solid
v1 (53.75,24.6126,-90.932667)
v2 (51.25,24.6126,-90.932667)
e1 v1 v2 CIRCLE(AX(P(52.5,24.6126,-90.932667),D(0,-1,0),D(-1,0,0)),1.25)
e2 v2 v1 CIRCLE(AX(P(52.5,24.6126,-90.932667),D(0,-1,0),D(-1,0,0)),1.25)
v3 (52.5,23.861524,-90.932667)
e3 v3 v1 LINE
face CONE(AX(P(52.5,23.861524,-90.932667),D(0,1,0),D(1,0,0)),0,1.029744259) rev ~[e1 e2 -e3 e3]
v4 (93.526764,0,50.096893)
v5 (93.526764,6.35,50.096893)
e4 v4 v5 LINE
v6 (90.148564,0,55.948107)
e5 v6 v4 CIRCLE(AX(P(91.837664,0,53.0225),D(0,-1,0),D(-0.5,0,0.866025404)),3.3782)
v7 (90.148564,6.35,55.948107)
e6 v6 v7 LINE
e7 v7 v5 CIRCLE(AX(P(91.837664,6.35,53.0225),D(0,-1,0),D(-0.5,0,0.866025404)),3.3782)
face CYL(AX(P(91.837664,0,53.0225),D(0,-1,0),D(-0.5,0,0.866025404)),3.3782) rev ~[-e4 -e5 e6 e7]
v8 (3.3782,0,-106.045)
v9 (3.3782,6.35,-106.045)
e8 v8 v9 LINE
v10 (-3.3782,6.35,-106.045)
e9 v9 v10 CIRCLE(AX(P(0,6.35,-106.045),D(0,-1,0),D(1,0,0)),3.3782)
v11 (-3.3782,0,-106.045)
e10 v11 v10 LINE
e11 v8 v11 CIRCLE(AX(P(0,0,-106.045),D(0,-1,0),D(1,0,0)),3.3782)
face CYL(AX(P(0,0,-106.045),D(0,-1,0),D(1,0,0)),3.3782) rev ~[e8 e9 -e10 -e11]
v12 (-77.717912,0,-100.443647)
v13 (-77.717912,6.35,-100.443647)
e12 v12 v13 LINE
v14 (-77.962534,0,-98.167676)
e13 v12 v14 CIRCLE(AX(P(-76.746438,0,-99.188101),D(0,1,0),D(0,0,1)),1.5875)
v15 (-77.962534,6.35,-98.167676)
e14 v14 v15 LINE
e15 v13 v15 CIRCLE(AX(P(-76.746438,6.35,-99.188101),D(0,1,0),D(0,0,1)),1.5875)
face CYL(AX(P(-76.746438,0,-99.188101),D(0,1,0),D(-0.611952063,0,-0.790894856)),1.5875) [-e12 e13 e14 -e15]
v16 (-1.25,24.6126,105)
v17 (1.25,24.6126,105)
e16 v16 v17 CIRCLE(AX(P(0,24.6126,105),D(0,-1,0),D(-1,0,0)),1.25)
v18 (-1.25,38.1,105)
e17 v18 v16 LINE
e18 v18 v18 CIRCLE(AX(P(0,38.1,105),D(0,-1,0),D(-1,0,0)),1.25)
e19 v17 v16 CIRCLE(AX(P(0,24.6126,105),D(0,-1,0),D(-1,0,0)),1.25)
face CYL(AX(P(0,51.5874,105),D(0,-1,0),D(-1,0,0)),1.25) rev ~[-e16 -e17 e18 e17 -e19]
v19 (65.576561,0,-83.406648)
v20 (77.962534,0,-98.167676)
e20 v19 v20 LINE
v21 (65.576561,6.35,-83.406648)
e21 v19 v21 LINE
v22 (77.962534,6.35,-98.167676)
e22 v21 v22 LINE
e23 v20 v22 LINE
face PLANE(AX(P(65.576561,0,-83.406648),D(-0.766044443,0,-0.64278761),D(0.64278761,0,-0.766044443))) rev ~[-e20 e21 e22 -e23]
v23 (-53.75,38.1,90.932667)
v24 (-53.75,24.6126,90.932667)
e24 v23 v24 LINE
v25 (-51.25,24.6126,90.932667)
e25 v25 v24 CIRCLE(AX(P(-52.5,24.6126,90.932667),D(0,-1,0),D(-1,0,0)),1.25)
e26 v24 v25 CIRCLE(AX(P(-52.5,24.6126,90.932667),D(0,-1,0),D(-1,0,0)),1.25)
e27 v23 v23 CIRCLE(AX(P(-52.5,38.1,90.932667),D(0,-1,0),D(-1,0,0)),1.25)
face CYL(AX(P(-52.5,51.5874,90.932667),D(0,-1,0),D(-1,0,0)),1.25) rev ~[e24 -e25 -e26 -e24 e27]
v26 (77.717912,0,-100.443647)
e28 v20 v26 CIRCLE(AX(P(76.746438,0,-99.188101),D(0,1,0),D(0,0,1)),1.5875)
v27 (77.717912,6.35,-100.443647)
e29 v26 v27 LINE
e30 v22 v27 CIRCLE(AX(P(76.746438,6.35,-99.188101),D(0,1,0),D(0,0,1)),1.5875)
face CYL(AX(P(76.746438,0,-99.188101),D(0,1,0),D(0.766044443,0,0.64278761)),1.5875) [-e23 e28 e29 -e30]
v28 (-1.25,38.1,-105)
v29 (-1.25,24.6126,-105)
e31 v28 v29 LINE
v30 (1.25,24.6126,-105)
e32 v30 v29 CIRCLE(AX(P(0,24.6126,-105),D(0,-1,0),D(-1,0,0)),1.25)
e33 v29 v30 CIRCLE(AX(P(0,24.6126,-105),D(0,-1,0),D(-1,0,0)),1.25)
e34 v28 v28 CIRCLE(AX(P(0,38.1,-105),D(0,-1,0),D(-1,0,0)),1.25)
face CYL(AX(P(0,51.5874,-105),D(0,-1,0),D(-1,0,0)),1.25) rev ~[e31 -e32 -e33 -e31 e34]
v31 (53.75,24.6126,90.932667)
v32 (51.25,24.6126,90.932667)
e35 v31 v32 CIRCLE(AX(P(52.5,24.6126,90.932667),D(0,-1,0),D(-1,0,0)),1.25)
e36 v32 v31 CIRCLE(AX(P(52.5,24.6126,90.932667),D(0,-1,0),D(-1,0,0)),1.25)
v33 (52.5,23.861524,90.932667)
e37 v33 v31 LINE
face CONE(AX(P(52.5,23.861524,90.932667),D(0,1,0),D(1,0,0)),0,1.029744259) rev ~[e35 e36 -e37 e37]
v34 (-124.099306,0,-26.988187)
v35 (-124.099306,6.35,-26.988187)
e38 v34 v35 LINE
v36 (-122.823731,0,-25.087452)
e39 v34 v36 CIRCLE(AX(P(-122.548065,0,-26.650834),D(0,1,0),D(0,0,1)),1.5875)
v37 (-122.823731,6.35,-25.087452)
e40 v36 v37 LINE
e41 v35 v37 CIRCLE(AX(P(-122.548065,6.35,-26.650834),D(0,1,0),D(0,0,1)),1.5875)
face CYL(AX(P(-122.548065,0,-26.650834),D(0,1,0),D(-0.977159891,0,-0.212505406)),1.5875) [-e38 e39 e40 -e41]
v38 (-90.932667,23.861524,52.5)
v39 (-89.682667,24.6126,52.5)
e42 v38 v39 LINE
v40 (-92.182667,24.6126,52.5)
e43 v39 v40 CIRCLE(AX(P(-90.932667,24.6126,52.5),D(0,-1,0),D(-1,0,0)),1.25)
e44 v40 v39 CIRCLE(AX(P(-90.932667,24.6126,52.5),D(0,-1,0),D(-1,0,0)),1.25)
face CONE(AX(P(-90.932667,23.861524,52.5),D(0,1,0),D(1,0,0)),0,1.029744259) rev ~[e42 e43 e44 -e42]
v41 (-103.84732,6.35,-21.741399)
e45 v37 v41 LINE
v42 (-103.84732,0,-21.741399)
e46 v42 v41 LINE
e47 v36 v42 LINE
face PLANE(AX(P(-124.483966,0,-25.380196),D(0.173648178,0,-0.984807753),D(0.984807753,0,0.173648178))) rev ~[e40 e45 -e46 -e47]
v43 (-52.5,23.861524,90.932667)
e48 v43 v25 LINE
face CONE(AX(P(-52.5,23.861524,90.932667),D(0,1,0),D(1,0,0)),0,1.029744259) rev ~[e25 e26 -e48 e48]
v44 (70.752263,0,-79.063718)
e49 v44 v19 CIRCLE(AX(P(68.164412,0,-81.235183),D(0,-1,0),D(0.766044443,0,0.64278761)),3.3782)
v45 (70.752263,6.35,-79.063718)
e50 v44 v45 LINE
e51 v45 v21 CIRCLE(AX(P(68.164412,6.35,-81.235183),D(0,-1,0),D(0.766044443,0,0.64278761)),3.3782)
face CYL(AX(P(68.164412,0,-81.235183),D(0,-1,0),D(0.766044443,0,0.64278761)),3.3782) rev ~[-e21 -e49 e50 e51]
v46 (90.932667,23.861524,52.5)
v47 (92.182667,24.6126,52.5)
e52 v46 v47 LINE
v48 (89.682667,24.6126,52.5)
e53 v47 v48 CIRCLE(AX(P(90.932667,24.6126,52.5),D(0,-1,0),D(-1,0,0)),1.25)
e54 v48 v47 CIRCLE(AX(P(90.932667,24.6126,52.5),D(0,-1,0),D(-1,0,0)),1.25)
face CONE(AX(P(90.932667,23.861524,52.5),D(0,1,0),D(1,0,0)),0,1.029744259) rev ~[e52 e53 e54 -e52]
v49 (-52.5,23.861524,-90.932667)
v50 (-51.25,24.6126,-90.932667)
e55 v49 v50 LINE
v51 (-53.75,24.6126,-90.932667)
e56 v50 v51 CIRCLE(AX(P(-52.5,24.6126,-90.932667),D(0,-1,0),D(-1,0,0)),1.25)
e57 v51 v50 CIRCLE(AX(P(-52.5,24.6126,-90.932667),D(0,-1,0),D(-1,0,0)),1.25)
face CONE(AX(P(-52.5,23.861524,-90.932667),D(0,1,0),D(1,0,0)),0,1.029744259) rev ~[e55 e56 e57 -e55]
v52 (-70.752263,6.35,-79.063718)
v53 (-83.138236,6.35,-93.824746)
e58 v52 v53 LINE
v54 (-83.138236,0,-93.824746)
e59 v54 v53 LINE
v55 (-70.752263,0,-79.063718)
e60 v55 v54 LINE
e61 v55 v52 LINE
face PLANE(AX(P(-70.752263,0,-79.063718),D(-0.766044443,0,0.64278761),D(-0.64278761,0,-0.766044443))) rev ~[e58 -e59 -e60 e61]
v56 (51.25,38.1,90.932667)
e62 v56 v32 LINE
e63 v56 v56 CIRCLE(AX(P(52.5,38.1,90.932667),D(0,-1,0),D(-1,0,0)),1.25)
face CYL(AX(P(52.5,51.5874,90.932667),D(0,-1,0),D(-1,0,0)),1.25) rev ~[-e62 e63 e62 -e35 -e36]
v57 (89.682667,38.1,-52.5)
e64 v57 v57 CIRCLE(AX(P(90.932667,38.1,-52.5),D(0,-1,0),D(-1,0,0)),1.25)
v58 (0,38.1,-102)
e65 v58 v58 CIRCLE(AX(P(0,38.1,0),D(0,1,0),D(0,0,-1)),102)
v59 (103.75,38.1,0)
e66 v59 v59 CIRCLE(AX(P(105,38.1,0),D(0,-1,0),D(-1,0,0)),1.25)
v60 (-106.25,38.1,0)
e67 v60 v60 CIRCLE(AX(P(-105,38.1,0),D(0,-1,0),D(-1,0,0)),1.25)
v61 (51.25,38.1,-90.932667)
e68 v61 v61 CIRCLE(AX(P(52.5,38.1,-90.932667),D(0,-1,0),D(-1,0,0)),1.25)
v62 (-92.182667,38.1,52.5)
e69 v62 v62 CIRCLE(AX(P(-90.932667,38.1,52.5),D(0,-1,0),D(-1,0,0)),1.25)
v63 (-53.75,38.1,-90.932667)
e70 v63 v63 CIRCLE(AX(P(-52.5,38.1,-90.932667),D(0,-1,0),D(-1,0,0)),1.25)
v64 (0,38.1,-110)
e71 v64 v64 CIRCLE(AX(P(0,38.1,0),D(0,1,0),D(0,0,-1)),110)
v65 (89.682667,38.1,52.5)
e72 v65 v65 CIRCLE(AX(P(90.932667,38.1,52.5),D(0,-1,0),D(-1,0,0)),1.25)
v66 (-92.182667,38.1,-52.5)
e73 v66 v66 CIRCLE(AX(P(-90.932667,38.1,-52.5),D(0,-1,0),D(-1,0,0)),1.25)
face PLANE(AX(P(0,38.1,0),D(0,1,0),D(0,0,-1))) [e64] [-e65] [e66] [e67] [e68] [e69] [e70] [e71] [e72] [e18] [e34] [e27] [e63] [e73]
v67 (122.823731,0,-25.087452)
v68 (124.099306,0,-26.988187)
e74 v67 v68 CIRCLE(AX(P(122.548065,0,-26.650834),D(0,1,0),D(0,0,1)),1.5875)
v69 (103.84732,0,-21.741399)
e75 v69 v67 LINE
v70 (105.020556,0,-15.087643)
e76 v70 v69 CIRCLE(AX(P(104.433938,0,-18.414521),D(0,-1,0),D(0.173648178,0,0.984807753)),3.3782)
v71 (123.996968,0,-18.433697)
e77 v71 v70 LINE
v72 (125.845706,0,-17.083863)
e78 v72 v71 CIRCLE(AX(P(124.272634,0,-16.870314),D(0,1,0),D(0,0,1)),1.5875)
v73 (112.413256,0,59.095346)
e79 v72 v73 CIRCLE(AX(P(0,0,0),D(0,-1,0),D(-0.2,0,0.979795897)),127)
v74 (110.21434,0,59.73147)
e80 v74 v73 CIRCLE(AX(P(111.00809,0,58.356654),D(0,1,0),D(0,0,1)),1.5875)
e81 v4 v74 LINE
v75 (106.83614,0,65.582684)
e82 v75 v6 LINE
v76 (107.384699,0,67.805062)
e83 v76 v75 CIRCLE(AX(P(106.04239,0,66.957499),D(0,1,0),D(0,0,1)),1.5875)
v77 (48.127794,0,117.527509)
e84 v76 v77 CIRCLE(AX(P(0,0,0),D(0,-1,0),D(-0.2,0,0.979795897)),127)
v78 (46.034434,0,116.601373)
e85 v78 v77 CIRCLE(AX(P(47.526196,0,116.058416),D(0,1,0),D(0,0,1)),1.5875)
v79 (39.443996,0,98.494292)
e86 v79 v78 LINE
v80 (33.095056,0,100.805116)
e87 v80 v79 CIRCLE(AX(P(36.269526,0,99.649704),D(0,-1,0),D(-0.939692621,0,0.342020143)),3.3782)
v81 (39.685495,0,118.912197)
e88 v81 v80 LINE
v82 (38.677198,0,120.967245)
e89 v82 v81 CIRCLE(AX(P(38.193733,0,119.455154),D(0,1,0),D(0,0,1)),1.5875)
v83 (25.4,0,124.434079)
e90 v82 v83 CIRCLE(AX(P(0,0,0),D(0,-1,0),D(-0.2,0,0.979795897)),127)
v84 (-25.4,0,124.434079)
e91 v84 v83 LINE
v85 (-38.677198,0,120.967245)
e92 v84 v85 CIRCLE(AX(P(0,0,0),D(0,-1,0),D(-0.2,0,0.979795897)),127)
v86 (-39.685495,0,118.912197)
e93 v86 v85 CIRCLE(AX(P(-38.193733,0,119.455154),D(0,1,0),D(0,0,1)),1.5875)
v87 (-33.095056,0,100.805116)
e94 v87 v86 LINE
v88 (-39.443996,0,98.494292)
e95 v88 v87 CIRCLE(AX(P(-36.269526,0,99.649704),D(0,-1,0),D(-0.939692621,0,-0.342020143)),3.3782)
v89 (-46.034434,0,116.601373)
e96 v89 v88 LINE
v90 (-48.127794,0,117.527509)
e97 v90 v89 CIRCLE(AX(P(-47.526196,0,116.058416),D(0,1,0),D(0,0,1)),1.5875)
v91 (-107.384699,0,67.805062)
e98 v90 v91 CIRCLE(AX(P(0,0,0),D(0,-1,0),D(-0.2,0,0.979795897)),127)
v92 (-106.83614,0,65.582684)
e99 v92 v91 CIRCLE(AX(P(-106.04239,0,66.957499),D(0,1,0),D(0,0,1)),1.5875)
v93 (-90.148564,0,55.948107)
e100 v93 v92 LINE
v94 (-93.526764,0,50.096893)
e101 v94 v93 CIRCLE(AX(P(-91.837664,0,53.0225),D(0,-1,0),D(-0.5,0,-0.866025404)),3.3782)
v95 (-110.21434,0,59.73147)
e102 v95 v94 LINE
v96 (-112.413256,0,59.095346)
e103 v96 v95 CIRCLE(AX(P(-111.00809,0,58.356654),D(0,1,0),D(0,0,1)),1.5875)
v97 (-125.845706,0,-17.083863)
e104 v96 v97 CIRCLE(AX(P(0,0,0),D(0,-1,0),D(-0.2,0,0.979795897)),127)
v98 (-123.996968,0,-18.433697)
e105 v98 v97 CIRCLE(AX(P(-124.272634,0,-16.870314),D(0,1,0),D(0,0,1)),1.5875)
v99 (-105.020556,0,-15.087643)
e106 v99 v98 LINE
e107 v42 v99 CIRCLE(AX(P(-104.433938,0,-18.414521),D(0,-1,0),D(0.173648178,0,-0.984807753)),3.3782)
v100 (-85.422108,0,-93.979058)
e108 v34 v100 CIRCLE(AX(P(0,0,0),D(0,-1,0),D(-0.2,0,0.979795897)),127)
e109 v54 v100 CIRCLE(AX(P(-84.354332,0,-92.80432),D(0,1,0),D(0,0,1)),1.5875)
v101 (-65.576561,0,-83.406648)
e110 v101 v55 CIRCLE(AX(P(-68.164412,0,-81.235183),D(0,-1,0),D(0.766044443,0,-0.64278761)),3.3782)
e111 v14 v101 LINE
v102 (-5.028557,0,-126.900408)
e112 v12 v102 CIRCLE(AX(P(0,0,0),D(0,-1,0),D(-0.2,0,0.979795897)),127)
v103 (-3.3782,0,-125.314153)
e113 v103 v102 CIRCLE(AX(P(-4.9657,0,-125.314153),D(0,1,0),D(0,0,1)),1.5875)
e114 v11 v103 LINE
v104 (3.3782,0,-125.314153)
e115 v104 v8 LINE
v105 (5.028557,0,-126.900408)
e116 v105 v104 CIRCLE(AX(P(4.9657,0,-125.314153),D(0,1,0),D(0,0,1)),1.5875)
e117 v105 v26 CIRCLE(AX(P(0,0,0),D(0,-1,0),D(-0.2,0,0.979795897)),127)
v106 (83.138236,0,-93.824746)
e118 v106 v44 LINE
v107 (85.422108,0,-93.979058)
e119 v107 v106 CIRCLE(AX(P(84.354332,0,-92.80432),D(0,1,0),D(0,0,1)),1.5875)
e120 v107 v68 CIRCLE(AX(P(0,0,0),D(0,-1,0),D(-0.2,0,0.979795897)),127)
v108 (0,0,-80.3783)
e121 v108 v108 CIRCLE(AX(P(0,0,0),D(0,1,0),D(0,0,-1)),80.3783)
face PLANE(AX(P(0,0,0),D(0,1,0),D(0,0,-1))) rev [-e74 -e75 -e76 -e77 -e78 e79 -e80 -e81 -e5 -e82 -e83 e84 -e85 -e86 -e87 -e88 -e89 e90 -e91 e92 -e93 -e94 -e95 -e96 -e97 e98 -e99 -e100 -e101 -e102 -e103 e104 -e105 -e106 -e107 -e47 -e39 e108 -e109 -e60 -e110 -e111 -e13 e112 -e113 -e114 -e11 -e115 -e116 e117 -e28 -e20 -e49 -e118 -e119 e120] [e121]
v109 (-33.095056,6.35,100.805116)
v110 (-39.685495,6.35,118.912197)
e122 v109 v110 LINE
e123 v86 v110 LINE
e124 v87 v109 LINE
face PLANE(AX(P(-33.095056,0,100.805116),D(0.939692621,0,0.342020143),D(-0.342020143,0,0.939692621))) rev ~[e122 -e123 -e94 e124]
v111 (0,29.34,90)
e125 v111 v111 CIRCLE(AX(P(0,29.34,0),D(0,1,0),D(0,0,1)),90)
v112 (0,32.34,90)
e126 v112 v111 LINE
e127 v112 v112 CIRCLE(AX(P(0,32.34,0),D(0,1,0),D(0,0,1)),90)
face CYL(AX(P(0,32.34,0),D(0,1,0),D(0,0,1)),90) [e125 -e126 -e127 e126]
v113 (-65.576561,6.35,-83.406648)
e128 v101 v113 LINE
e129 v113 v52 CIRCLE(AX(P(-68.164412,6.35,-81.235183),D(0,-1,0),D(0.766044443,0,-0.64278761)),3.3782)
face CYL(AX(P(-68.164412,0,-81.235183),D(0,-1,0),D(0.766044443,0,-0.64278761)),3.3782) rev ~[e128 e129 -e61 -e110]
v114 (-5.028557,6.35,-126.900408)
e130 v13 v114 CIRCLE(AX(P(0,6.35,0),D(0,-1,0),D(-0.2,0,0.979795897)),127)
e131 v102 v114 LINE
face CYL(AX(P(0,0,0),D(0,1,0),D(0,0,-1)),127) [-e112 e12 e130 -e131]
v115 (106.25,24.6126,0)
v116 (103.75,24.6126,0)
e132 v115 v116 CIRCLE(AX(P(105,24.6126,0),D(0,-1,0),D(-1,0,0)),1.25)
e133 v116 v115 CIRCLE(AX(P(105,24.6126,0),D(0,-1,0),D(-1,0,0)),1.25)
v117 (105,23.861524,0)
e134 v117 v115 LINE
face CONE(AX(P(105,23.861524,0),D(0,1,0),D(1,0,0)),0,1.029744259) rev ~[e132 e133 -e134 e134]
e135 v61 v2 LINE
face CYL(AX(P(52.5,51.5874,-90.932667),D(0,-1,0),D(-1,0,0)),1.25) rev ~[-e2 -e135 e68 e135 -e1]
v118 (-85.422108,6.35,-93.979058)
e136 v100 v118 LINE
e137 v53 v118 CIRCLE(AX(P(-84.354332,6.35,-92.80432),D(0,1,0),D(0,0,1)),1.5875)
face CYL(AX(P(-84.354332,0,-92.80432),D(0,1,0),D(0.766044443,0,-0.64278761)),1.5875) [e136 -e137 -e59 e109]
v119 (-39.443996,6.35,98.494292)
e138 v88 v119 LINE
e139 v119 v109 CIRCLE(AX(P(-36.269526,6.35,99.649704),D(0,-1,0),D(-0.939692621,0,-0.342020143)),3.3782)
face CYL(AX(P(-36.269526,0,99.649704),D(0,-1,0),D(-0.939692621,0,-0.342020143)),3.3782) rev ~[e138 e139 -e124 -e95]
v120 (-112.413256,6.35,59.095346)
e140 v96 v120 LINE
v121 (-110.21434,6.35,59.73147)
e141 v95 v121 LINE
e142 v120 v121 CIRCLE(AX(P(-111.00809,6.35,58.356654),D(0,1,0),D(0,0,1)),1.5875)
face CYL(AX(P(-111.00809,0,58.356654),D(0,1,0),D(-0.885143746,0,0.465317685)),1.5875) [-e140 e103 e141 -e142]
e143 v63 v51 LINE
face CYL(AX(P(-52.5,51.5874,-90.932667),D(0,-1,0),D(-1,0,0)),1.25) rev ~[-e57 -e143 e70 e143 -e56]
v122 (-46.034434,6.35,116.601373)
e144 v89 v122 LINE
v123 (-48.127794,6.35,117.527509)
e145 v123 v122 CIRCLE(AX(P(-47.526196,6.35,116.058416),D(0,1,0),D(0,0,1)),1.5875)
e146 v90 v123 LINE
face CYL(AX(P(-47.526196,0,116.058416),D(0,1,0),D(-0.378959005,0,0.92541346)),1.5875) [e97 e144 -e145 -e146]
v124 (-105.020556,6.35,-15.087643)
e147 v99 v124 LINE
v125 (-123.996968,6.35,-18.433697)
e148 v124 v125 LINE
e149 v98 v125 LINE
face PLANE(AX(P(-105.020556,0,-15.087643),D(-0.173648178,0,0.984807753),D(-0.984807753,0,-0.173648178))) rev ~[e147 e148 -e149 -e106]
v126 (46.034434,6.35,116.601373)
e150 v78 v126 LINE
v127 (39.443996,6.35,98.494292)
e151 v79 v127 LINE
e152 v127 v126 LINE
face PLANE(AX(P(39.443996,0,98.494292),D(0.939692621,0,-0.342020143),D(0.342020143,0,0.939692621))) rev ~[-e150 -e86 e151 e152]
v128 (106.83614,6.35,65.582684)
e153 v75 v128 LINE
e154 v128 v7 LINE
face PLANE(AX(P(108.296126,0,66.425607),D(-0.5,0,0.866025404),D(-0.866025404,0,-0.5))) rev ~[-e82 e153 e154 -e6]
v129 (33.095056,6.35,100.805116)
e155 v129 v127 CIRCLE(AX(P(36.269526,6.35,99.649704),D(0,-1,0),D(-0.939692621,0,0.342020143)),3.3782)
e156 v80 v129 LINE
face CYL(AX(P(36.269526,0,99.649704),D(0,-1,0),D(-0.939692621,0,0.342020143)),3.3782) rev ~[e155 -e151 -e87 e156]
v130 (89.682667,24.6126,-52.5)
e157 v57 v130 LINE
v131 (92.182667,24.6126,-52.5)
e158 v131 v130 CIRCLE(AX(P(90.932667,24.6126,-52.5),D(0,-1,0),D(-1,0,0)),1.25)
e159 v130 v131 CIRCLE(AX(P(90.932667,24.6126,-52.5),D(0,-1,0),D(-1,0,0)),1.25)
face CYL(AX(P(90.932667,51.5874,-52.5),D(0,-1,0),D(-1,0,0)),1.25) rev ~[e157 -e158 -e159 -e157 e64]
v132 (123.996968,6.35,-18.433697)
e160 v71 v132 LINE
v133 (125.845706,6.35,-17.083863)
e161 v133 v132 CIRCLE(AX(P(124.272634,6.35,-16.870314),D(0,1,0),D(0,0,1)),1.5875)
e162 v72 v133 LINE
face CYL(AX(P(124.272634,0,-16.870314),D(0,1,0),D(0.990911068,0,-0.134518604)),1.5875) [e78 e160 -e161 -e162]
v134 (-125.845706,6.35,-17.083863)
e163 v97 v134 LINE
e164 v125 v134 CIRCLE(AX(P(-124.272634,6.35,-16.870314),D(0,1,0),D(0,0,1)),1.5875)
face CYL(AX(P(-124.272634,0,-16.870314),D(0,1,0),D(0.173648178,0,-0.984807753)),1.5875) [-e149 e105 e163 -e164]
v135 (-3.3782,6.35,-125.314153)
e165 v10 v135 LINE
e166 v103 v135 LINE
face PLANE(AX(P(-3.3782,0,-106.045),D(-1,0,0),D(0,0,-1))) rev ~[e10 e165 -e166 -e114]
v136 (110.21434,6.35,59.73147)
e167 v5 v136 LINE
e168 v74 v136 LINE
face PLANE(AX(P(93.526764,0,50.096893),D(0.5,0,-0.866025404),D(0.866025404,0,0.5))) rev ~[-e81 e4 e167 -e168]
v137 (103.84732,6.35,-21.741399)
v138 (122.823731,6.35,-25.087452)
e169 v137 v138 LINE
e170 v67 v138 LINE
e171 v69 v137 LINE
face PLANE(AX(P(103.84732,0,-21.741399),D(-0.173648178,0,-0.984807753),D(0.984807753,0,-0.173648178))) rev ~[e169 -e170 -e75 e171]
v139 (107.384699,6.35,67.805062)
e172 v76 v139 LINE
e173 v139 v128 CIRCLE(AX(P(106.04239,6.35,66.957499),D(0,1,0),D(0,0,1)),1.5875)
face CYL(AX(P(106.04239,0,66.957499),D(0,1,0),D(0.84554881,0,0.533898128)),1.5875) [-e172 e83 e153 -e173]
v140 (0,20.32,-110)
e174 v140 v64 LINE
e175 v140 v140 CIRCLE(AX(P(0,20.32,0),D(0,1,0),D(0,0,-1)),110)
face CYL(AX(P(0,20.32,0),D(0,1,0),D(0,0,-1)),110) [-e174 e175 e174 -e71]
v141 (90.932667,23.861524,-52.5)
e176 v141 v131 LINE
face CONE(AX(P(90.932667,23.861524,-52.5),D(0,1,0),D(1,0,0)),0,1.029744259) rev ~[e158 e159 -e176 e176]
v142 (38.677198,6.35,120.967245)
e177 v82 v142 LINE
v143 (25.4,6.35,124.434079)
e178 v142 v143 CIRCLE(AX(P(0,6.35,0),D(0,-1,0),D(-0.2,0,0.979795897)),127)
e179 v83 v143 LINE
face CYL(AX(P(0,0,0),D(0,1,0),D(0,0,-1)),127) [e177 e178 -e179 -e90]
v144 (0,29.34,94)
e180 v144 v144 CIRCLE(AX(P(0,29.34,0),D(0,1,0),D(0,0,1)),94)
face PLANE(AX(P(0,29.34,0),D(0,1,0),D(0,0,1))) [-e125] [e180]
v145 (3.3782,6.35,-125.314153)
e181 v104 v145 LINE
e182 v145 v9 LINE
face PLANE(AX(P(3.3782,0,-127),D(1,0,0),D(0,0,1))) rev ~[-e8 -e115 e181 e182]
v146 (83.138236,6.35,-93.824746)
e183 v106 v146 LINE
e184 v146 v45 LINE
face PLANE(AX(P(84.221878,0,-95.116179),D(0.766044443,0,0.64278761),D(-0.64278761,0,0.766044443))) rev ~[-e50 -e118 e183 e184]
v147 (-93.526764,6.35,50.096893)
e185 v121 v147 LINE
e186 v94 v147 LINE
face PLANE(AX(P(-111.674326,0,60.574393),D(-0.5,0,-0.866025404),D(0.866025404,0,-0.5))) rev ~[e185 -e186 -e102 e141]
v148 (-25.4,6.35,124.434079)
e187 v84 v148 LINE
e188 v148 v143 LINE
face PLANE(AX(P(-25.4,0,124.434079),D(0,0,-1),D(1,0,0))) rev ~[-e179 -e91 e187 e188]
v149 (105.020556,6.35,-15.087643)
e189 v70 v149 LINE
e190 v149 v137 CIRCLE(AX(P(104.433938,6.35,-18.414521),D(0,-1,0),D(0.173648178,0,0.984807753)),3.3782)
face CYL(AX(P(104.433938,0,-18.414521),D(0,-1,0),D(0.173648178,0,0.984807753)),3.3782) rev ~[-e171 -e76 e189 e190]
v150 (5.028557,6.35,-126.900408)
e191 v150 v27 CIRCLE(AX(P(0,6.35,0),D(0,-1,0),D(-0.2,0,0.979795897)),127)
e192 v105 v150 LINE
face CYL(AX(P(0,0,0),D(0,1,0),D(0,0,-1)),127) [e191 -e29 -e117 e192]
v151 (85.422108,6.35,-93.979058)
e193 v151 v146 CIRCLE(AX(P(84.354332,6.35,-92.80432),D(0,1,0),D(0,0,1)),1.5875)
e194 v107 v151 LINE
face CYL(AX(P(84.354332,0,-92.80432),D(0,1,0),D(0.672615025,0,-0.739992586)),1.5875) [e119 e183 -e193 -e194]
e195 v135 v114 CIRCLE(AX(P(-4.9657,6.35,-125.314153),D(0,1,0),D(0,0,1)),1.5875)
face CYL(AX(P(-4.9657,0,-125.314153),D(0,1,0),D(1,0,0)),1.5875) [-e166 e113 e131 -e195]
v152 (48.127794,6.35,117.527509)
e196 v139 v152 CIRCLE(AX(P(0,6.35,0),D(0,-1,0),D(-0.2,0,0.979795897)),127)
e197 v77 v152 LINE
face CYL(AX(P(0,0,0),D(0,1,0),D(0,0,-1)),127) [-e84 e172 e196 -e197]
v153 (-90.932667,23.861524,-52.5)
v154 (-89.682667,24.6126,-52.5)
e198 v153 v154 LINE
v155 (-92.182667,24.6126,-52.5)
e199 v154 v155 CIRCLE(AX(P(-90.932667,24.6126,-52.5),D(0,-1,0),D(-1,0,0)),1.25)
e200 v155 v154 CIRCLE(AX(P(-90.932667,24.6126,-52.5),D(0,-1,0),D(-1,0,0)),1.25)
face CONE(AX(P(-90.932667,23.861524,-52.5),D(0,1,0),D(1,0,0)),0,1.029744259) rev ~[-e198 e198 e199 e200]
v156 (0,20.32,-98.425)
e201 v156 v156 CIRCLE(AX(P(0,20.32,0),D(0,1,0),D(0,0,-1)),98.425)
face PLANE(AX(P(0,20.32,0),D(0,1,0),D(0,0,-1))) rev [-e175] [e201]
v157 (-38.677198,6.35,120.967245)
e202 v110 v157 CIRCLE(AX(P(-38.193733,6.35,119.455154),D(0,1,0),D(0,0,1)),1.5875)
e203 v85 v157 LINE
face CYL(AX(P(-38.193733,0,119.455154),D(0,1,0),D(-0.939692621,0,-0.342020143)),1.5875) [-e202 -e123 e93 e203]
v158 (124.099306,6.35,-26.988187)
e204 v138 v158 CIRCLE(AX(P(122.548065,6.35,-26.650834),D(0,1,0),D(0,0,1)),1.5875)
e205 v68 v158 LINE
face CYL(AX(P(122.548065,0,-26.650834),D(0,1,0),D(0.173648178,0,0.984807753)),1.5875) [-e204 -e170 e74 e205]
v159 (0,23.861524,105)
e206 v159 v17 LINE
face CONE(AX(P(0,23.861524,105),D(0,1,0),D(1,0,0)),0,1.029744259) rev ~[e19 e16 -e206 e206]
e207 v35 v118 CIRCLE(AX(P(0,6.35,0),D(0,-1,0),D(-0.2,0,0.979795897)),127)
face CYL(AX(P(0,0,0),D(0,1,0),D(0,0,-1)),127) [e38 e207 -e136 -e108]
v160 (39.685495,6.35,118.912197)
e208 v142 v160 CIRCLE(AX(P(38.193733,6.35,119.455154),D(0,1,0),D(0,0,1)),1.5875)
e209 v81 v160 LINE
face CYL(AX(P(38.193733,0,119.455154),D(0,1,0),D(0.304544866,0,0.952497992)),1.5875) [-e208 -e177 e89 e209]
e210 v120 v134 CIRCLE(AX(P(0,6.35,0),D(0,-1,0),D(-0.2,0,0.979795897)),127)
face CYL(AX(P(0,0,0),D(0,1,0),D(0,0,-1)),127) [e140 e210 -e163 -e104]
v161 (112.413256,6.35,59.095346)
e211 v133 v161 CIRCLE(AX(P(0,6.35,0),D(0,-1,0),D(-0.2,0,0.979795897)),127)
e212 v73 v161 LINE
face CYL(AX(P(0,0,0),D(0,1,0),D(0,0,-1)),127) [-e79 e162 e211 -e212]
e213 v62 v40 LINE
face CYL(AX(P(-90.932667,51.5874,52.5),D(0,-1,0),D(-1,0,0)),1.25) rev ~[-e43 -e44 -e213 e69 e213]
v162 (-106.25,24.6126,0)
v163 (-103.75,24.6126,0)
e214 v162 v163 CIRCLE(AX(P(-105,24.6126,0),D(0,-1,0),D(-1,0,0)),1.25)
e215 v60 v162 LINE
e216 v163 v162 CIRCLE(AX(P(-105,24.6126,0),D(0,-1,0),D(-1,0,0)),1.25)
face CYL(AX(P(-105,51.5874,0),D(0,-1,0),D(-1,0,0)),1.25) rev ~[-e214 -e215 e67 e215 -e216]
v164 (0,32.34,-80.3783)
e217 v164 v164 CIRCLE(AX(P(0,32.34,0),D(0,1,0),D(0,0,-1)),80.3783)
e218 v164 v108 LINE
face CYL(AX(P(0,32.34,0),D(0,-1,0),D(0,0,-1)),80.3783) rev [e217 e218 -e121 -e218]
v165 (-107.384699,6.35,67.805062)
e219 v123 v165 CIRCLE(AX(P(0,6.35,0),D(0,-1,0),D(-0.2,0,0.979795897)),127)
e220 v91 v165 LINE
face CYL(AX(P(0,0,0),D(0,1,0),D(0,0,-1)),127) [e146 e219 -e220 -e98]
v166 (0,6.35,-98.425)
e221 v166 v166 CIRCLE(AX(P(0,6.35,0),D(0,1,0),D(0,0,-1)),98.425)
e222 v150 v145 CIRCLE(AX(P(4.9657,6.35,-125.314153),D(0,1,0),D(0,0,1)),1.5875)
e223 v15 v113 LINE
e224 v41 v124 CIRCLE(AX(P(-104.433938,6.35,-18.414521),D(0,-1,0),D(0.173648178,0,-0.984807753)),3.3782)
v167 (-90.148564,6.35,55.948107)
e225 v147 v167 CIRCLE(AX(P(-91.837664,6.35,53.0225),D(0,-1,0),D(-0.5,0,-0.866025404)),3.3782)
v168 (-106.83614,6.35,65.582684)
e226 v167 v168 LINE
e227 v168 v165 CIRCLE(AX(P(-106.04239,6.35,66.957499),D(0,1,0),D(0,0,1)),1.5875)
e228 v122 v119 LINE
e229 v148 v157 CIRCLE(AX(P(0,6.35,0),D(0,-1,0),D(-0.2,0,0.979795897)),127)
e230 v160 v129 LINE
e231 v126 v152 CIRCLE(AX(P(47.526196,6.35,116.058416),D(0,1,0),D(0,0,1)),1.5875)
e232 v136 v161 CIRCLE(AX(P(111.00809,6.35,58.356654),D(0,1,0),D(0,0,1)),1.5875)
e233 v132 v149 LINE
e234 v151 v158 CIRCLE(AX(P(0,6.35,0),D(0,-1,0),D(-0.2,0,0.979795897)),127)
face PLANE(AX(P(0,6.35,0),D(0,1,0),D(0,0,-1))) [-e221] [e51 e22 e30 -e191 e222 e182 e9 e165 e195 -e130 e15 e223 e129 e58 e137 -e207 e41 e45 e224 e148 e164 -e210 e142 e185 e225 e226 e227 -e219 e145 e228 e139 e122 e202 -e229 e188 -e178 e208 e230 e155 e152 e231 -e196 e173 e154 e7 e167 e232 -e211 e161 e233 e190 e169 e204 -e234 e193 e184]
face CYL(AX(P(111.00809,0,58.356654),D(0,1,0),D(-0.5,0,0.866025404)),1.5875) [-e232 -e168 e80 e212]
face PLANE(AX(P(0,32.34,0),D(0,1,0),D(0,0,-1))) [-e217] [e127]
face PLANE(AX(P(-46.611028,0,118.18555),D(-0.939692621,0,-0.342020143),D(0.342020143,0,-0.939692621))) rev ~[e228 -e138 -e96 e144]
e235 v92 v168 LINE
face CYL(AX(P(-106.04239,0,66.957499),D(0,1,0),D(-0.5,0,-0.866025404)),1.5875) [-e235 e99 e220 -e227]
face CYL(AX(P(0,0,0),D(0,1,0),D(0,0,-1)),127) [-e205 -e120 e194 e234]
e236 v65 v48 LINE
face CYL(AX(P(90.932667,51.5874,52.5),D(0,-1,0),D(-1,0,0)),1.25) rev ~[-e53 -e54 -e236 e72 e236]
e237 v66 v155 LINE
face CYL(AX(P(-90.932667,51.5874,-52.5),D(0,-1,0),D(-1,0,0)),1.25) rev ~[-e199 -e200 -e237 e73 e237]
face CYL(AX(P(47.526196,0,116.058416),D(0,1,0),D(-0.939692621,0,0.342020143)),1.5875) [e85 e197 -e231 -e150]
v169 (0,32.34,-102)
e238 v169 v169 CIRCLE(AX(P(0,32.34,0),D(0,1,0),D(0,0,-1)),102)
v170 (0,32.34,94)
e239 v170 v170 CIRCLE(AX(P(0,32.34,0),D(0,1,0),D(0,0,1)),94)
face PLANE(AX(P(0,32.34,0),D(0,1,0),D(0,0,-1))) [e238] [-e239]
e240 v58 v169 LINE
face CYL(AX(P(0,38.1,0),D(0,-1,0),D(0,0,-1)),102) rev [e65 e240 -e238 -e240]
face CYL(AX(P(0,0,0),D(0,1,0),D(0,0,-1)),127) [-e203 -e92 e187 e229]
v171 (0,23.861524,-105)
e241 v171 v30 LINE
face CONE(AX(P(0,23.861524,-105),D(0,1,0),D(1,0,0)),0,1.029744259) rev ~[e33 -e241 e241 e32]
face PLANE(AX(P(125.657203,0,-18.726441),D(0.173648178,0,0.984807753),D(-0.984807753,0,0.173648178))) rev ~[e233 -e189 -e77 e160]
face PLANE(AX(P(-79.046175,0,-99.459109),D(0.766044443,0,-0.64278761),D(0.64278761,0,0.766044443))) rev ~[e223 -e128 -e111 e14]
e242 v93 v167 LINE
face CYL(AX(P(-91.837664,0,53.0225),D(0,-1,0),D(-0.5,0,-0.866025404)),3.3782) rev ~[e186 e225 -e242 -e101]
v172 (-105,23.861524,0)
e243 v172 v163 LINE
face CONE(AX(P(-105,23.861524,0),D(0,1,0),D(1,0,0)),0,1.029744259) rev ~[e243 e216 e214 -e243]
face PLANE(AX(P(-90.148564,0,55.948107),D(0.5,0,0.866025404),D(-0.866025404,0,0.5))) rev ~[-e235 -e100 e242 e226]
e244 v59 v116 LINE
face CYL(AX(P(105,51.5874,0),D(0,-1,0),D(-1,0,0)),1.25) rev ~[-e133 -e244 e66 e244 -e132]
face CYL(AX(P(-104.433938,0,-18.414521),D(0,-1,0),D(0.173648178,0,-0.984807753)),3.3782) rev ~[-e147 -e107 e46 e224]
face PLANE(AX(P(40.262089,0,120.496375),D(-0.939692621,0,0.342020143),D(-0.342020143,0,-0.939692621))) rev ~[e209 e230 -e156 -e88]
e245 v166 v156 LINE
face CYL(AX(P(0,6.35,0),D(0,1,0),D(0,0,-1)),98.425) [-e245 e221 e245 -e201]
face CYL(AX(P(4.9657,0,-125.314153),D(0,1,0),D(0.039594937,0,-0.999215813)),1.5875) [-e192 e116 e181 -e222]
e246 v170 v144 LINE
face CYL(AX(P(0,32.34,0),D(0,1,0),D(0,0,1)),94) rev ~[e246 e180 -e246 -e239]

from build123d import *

# Parameters (mm, degrees)
M3X0_5_TAPPED_HOLE1_D     = 2.5
M3X0_5_TAPPED_HOLE1_DEPTH = 13.4874
M3X0_5_TAPPED_HOLE1_TIP   = 0.751075774
CUT_EXTRUDE1_REACH        = 185.602
SKETCH7_W                 = 50.8
SKETCH7_H                 = 2.565921067
CUT_EXTRUDE2_REACH        = 185.602
FILLET1_R                 = 1.5875
CIRPATTERN1_COUNT         = 9
FILLET1_OF_CIRPATTERN1_R  = 1.5875
SKETCH11_R                = 94
SKETCH11_R_2              = 90
CUT_EXTRUDE3_DEPTH        = 3


with BuildPart() as part:
    # Sketch1 → Revolve1 (revolve)
    with BuildSketch(Plane.XY, mode=Mode.PRIVATE) as revolve1_sk:
        Polygon((80.3783, 0), (127, 0), (127, 6.35), (98.425, 6.35), (98.425, 20.32), (110, 20.32), (110, 38.1), (102, 38.1), (102, 32.34), (80.3783, 32.34), align=None)
    revolve(revolve1_sk.sketch.rotate(Axis((0, 0, 0), (0, 1, 0)), 90), axis=Axis((0, 0, 0), (0, 1, 0)))

    # M3x0.5 Tapped Hole1
    with Locations(Plane(origin=(0, 38.1, 0), x_dir=(1, 0, 0), z_dir=(0, 1, 0))):
        with Locations((0, 105), (52.5, 90.932667397), (90.932667397, 52.5), (105, 0), (90.932667397, -52.5), (52.5, -90.932667397), (0, -105), (-52.5, -90.932667397), (-90.932667397, -52.5), (-105, 0), (-90.932667397, 52.5), (-52.5, 90.932667397)):
            Hole(M3X0_5_TAPPED_HOLE1_D / 2, depth=M3X0_5_TAPPED_HOLE1_DEPTH)
            with Locations((0, 0, -(M3X0_5_TAPPED_HOLE1_DEPTH + M3X0_5_TAPPED_HOLE1_TIP / 2))):  # 118° drill point
                Cone(0, M3X0_5_TAPPED_HOLE1_D / 2, M3X0_5_TAPPED_HOLE1_TIP, mode=Mode.SUBTRACT)

    # Sketch7 → Cut-Extrude1 (cut, up to next)
    with BuildSketch(Plane(origin=(0, 0, 0), x_dir=(1, 0, 0), z_dir=(0, 1, 0)), mode=Mode.PRIVATE) as cut_extrude1_sk1:
        with Locations((0, -125.717039467)):
            Rectangle(SKETCH7_W, SKETCH7_H)
    cut_extrude1_tool1 = extrude(cut_extrude1_sk1.sketch, amount=CUT_EXTRUDE1_REACH, mode=Mode.PRIVATE) & part.part
    add(cut_extrude1_tool1.solids().sort_by_distance((0, 0, 125.717039))[0], mode=Mode.SUBTRACT)

    # Sketch10 → Cut-Extrude2 (cut, up to next)
    with BuildSketch(Plane.XZ, mode=Mode.PRIVATE) as cut_extrude2_sk1:
        with BuildLine():
            Line((-3.3782, -106.045), (-3.3782, -127))
            Line((-3.3782, -127), (3.3782, -127))
            Line((3.3782, -127), (3.3782, -106.045))
            ThreePointArc((3.3782, -106.045), (0, -102.6668), (-3.3782, -106.045))
        make_face()
    cut_extrude2_tool1 = extrude(cut_extrude2_sk1.sketch, amount=-CUT_EXTRUDE2_REACH, mode=Mode.PRIVATE) & part.part
    cut_extrude2 = cut_extrude2_tool1.solids().sort_by_distance((0, 0, -115.183843))[0]
    add(cut_extrude2, mode=Mode.SUBTRACT)

    # Fillet1
    fillet1_edges = [part.edges().sort_by_distance(p)[0] for p in [
        (-3.3782, 3.175, -126.95506199),
        (3.3782, 3.175, -126.95506199),
    ]]
    fillet(fillet1_edges, radius=FILLET1_R)

    # CirPattern1: Cut-Extrude2 ×9 about axis
    cirpattern1_axis = Axis((0, 0, 0), (0, 1, 0))
    for i in range(1, CIRPATTERN1_COUNT):
        add(cut_extrude2.rotate(cirpattern1_axis, i * 360 / CIRPATTERN1_COUNT), mode=Mode.SUBTRACT)

    # Fillet1 of CirPattern1
    fillet1_of_cirpattern1_edges = [part.edges().sort_by_distance(p)[0] for p in [
        (-84.192992172, 3.175, -95.08175466),
        (-79.017289496, 3.175, -99.424684866),
        (-125.612947605, 3.175, -18.718637609),
        (-124.439711058, 3.175, -25.372392711),
        (-108.257208822, 3.175, 66.403138014),
        (-111.635408822, 3.175, 60.551923976),
        (-40.246718886, 3.175, 120.454147371),
        (-46.595658109, 3.175, 118.143322475),
        (46.595658109, 3.175, 118.143322475),
        (40.246718886, 3.175, 120.454147371),
        (111.635408822, 3.175, 60.551923976),
        (108.257208822, 3.175, 66.403138014),
        (124.439711058, 3.175, -25.372392711),
        (125.612947605, 3.175, -18.718637609),
        (79.017289496, 3.175, -99.424684866),
        (84.192992172, 3.175, -95.08175466),
    ]]
    fillet(fillet1_of_cirpattern1_edges, radius=FILLET1_OF_CIRPATTERN1_R)

    # Sketch11 → Cut-Extrude3 (cut)
    with BuildSketch(Plane(origin=(0, 32.34, 0), x_dir=(1, 0, 0), z_dir=(0, 1, 0))):
        with Locations(Location((0, 0, 0), (0, 0, 270))):
            Circle(SKETCH11_R)
        with Locations(Location((0, 0, 0), (0, 0, 270))):
            Circle(SKETCH11_R_2, mode=Mode.SUBTRACT)
    extrude(amount=-CUT_EXTRUDE3_DEPTH, mode=Mode.SUBTRACT)


solid = part.part
